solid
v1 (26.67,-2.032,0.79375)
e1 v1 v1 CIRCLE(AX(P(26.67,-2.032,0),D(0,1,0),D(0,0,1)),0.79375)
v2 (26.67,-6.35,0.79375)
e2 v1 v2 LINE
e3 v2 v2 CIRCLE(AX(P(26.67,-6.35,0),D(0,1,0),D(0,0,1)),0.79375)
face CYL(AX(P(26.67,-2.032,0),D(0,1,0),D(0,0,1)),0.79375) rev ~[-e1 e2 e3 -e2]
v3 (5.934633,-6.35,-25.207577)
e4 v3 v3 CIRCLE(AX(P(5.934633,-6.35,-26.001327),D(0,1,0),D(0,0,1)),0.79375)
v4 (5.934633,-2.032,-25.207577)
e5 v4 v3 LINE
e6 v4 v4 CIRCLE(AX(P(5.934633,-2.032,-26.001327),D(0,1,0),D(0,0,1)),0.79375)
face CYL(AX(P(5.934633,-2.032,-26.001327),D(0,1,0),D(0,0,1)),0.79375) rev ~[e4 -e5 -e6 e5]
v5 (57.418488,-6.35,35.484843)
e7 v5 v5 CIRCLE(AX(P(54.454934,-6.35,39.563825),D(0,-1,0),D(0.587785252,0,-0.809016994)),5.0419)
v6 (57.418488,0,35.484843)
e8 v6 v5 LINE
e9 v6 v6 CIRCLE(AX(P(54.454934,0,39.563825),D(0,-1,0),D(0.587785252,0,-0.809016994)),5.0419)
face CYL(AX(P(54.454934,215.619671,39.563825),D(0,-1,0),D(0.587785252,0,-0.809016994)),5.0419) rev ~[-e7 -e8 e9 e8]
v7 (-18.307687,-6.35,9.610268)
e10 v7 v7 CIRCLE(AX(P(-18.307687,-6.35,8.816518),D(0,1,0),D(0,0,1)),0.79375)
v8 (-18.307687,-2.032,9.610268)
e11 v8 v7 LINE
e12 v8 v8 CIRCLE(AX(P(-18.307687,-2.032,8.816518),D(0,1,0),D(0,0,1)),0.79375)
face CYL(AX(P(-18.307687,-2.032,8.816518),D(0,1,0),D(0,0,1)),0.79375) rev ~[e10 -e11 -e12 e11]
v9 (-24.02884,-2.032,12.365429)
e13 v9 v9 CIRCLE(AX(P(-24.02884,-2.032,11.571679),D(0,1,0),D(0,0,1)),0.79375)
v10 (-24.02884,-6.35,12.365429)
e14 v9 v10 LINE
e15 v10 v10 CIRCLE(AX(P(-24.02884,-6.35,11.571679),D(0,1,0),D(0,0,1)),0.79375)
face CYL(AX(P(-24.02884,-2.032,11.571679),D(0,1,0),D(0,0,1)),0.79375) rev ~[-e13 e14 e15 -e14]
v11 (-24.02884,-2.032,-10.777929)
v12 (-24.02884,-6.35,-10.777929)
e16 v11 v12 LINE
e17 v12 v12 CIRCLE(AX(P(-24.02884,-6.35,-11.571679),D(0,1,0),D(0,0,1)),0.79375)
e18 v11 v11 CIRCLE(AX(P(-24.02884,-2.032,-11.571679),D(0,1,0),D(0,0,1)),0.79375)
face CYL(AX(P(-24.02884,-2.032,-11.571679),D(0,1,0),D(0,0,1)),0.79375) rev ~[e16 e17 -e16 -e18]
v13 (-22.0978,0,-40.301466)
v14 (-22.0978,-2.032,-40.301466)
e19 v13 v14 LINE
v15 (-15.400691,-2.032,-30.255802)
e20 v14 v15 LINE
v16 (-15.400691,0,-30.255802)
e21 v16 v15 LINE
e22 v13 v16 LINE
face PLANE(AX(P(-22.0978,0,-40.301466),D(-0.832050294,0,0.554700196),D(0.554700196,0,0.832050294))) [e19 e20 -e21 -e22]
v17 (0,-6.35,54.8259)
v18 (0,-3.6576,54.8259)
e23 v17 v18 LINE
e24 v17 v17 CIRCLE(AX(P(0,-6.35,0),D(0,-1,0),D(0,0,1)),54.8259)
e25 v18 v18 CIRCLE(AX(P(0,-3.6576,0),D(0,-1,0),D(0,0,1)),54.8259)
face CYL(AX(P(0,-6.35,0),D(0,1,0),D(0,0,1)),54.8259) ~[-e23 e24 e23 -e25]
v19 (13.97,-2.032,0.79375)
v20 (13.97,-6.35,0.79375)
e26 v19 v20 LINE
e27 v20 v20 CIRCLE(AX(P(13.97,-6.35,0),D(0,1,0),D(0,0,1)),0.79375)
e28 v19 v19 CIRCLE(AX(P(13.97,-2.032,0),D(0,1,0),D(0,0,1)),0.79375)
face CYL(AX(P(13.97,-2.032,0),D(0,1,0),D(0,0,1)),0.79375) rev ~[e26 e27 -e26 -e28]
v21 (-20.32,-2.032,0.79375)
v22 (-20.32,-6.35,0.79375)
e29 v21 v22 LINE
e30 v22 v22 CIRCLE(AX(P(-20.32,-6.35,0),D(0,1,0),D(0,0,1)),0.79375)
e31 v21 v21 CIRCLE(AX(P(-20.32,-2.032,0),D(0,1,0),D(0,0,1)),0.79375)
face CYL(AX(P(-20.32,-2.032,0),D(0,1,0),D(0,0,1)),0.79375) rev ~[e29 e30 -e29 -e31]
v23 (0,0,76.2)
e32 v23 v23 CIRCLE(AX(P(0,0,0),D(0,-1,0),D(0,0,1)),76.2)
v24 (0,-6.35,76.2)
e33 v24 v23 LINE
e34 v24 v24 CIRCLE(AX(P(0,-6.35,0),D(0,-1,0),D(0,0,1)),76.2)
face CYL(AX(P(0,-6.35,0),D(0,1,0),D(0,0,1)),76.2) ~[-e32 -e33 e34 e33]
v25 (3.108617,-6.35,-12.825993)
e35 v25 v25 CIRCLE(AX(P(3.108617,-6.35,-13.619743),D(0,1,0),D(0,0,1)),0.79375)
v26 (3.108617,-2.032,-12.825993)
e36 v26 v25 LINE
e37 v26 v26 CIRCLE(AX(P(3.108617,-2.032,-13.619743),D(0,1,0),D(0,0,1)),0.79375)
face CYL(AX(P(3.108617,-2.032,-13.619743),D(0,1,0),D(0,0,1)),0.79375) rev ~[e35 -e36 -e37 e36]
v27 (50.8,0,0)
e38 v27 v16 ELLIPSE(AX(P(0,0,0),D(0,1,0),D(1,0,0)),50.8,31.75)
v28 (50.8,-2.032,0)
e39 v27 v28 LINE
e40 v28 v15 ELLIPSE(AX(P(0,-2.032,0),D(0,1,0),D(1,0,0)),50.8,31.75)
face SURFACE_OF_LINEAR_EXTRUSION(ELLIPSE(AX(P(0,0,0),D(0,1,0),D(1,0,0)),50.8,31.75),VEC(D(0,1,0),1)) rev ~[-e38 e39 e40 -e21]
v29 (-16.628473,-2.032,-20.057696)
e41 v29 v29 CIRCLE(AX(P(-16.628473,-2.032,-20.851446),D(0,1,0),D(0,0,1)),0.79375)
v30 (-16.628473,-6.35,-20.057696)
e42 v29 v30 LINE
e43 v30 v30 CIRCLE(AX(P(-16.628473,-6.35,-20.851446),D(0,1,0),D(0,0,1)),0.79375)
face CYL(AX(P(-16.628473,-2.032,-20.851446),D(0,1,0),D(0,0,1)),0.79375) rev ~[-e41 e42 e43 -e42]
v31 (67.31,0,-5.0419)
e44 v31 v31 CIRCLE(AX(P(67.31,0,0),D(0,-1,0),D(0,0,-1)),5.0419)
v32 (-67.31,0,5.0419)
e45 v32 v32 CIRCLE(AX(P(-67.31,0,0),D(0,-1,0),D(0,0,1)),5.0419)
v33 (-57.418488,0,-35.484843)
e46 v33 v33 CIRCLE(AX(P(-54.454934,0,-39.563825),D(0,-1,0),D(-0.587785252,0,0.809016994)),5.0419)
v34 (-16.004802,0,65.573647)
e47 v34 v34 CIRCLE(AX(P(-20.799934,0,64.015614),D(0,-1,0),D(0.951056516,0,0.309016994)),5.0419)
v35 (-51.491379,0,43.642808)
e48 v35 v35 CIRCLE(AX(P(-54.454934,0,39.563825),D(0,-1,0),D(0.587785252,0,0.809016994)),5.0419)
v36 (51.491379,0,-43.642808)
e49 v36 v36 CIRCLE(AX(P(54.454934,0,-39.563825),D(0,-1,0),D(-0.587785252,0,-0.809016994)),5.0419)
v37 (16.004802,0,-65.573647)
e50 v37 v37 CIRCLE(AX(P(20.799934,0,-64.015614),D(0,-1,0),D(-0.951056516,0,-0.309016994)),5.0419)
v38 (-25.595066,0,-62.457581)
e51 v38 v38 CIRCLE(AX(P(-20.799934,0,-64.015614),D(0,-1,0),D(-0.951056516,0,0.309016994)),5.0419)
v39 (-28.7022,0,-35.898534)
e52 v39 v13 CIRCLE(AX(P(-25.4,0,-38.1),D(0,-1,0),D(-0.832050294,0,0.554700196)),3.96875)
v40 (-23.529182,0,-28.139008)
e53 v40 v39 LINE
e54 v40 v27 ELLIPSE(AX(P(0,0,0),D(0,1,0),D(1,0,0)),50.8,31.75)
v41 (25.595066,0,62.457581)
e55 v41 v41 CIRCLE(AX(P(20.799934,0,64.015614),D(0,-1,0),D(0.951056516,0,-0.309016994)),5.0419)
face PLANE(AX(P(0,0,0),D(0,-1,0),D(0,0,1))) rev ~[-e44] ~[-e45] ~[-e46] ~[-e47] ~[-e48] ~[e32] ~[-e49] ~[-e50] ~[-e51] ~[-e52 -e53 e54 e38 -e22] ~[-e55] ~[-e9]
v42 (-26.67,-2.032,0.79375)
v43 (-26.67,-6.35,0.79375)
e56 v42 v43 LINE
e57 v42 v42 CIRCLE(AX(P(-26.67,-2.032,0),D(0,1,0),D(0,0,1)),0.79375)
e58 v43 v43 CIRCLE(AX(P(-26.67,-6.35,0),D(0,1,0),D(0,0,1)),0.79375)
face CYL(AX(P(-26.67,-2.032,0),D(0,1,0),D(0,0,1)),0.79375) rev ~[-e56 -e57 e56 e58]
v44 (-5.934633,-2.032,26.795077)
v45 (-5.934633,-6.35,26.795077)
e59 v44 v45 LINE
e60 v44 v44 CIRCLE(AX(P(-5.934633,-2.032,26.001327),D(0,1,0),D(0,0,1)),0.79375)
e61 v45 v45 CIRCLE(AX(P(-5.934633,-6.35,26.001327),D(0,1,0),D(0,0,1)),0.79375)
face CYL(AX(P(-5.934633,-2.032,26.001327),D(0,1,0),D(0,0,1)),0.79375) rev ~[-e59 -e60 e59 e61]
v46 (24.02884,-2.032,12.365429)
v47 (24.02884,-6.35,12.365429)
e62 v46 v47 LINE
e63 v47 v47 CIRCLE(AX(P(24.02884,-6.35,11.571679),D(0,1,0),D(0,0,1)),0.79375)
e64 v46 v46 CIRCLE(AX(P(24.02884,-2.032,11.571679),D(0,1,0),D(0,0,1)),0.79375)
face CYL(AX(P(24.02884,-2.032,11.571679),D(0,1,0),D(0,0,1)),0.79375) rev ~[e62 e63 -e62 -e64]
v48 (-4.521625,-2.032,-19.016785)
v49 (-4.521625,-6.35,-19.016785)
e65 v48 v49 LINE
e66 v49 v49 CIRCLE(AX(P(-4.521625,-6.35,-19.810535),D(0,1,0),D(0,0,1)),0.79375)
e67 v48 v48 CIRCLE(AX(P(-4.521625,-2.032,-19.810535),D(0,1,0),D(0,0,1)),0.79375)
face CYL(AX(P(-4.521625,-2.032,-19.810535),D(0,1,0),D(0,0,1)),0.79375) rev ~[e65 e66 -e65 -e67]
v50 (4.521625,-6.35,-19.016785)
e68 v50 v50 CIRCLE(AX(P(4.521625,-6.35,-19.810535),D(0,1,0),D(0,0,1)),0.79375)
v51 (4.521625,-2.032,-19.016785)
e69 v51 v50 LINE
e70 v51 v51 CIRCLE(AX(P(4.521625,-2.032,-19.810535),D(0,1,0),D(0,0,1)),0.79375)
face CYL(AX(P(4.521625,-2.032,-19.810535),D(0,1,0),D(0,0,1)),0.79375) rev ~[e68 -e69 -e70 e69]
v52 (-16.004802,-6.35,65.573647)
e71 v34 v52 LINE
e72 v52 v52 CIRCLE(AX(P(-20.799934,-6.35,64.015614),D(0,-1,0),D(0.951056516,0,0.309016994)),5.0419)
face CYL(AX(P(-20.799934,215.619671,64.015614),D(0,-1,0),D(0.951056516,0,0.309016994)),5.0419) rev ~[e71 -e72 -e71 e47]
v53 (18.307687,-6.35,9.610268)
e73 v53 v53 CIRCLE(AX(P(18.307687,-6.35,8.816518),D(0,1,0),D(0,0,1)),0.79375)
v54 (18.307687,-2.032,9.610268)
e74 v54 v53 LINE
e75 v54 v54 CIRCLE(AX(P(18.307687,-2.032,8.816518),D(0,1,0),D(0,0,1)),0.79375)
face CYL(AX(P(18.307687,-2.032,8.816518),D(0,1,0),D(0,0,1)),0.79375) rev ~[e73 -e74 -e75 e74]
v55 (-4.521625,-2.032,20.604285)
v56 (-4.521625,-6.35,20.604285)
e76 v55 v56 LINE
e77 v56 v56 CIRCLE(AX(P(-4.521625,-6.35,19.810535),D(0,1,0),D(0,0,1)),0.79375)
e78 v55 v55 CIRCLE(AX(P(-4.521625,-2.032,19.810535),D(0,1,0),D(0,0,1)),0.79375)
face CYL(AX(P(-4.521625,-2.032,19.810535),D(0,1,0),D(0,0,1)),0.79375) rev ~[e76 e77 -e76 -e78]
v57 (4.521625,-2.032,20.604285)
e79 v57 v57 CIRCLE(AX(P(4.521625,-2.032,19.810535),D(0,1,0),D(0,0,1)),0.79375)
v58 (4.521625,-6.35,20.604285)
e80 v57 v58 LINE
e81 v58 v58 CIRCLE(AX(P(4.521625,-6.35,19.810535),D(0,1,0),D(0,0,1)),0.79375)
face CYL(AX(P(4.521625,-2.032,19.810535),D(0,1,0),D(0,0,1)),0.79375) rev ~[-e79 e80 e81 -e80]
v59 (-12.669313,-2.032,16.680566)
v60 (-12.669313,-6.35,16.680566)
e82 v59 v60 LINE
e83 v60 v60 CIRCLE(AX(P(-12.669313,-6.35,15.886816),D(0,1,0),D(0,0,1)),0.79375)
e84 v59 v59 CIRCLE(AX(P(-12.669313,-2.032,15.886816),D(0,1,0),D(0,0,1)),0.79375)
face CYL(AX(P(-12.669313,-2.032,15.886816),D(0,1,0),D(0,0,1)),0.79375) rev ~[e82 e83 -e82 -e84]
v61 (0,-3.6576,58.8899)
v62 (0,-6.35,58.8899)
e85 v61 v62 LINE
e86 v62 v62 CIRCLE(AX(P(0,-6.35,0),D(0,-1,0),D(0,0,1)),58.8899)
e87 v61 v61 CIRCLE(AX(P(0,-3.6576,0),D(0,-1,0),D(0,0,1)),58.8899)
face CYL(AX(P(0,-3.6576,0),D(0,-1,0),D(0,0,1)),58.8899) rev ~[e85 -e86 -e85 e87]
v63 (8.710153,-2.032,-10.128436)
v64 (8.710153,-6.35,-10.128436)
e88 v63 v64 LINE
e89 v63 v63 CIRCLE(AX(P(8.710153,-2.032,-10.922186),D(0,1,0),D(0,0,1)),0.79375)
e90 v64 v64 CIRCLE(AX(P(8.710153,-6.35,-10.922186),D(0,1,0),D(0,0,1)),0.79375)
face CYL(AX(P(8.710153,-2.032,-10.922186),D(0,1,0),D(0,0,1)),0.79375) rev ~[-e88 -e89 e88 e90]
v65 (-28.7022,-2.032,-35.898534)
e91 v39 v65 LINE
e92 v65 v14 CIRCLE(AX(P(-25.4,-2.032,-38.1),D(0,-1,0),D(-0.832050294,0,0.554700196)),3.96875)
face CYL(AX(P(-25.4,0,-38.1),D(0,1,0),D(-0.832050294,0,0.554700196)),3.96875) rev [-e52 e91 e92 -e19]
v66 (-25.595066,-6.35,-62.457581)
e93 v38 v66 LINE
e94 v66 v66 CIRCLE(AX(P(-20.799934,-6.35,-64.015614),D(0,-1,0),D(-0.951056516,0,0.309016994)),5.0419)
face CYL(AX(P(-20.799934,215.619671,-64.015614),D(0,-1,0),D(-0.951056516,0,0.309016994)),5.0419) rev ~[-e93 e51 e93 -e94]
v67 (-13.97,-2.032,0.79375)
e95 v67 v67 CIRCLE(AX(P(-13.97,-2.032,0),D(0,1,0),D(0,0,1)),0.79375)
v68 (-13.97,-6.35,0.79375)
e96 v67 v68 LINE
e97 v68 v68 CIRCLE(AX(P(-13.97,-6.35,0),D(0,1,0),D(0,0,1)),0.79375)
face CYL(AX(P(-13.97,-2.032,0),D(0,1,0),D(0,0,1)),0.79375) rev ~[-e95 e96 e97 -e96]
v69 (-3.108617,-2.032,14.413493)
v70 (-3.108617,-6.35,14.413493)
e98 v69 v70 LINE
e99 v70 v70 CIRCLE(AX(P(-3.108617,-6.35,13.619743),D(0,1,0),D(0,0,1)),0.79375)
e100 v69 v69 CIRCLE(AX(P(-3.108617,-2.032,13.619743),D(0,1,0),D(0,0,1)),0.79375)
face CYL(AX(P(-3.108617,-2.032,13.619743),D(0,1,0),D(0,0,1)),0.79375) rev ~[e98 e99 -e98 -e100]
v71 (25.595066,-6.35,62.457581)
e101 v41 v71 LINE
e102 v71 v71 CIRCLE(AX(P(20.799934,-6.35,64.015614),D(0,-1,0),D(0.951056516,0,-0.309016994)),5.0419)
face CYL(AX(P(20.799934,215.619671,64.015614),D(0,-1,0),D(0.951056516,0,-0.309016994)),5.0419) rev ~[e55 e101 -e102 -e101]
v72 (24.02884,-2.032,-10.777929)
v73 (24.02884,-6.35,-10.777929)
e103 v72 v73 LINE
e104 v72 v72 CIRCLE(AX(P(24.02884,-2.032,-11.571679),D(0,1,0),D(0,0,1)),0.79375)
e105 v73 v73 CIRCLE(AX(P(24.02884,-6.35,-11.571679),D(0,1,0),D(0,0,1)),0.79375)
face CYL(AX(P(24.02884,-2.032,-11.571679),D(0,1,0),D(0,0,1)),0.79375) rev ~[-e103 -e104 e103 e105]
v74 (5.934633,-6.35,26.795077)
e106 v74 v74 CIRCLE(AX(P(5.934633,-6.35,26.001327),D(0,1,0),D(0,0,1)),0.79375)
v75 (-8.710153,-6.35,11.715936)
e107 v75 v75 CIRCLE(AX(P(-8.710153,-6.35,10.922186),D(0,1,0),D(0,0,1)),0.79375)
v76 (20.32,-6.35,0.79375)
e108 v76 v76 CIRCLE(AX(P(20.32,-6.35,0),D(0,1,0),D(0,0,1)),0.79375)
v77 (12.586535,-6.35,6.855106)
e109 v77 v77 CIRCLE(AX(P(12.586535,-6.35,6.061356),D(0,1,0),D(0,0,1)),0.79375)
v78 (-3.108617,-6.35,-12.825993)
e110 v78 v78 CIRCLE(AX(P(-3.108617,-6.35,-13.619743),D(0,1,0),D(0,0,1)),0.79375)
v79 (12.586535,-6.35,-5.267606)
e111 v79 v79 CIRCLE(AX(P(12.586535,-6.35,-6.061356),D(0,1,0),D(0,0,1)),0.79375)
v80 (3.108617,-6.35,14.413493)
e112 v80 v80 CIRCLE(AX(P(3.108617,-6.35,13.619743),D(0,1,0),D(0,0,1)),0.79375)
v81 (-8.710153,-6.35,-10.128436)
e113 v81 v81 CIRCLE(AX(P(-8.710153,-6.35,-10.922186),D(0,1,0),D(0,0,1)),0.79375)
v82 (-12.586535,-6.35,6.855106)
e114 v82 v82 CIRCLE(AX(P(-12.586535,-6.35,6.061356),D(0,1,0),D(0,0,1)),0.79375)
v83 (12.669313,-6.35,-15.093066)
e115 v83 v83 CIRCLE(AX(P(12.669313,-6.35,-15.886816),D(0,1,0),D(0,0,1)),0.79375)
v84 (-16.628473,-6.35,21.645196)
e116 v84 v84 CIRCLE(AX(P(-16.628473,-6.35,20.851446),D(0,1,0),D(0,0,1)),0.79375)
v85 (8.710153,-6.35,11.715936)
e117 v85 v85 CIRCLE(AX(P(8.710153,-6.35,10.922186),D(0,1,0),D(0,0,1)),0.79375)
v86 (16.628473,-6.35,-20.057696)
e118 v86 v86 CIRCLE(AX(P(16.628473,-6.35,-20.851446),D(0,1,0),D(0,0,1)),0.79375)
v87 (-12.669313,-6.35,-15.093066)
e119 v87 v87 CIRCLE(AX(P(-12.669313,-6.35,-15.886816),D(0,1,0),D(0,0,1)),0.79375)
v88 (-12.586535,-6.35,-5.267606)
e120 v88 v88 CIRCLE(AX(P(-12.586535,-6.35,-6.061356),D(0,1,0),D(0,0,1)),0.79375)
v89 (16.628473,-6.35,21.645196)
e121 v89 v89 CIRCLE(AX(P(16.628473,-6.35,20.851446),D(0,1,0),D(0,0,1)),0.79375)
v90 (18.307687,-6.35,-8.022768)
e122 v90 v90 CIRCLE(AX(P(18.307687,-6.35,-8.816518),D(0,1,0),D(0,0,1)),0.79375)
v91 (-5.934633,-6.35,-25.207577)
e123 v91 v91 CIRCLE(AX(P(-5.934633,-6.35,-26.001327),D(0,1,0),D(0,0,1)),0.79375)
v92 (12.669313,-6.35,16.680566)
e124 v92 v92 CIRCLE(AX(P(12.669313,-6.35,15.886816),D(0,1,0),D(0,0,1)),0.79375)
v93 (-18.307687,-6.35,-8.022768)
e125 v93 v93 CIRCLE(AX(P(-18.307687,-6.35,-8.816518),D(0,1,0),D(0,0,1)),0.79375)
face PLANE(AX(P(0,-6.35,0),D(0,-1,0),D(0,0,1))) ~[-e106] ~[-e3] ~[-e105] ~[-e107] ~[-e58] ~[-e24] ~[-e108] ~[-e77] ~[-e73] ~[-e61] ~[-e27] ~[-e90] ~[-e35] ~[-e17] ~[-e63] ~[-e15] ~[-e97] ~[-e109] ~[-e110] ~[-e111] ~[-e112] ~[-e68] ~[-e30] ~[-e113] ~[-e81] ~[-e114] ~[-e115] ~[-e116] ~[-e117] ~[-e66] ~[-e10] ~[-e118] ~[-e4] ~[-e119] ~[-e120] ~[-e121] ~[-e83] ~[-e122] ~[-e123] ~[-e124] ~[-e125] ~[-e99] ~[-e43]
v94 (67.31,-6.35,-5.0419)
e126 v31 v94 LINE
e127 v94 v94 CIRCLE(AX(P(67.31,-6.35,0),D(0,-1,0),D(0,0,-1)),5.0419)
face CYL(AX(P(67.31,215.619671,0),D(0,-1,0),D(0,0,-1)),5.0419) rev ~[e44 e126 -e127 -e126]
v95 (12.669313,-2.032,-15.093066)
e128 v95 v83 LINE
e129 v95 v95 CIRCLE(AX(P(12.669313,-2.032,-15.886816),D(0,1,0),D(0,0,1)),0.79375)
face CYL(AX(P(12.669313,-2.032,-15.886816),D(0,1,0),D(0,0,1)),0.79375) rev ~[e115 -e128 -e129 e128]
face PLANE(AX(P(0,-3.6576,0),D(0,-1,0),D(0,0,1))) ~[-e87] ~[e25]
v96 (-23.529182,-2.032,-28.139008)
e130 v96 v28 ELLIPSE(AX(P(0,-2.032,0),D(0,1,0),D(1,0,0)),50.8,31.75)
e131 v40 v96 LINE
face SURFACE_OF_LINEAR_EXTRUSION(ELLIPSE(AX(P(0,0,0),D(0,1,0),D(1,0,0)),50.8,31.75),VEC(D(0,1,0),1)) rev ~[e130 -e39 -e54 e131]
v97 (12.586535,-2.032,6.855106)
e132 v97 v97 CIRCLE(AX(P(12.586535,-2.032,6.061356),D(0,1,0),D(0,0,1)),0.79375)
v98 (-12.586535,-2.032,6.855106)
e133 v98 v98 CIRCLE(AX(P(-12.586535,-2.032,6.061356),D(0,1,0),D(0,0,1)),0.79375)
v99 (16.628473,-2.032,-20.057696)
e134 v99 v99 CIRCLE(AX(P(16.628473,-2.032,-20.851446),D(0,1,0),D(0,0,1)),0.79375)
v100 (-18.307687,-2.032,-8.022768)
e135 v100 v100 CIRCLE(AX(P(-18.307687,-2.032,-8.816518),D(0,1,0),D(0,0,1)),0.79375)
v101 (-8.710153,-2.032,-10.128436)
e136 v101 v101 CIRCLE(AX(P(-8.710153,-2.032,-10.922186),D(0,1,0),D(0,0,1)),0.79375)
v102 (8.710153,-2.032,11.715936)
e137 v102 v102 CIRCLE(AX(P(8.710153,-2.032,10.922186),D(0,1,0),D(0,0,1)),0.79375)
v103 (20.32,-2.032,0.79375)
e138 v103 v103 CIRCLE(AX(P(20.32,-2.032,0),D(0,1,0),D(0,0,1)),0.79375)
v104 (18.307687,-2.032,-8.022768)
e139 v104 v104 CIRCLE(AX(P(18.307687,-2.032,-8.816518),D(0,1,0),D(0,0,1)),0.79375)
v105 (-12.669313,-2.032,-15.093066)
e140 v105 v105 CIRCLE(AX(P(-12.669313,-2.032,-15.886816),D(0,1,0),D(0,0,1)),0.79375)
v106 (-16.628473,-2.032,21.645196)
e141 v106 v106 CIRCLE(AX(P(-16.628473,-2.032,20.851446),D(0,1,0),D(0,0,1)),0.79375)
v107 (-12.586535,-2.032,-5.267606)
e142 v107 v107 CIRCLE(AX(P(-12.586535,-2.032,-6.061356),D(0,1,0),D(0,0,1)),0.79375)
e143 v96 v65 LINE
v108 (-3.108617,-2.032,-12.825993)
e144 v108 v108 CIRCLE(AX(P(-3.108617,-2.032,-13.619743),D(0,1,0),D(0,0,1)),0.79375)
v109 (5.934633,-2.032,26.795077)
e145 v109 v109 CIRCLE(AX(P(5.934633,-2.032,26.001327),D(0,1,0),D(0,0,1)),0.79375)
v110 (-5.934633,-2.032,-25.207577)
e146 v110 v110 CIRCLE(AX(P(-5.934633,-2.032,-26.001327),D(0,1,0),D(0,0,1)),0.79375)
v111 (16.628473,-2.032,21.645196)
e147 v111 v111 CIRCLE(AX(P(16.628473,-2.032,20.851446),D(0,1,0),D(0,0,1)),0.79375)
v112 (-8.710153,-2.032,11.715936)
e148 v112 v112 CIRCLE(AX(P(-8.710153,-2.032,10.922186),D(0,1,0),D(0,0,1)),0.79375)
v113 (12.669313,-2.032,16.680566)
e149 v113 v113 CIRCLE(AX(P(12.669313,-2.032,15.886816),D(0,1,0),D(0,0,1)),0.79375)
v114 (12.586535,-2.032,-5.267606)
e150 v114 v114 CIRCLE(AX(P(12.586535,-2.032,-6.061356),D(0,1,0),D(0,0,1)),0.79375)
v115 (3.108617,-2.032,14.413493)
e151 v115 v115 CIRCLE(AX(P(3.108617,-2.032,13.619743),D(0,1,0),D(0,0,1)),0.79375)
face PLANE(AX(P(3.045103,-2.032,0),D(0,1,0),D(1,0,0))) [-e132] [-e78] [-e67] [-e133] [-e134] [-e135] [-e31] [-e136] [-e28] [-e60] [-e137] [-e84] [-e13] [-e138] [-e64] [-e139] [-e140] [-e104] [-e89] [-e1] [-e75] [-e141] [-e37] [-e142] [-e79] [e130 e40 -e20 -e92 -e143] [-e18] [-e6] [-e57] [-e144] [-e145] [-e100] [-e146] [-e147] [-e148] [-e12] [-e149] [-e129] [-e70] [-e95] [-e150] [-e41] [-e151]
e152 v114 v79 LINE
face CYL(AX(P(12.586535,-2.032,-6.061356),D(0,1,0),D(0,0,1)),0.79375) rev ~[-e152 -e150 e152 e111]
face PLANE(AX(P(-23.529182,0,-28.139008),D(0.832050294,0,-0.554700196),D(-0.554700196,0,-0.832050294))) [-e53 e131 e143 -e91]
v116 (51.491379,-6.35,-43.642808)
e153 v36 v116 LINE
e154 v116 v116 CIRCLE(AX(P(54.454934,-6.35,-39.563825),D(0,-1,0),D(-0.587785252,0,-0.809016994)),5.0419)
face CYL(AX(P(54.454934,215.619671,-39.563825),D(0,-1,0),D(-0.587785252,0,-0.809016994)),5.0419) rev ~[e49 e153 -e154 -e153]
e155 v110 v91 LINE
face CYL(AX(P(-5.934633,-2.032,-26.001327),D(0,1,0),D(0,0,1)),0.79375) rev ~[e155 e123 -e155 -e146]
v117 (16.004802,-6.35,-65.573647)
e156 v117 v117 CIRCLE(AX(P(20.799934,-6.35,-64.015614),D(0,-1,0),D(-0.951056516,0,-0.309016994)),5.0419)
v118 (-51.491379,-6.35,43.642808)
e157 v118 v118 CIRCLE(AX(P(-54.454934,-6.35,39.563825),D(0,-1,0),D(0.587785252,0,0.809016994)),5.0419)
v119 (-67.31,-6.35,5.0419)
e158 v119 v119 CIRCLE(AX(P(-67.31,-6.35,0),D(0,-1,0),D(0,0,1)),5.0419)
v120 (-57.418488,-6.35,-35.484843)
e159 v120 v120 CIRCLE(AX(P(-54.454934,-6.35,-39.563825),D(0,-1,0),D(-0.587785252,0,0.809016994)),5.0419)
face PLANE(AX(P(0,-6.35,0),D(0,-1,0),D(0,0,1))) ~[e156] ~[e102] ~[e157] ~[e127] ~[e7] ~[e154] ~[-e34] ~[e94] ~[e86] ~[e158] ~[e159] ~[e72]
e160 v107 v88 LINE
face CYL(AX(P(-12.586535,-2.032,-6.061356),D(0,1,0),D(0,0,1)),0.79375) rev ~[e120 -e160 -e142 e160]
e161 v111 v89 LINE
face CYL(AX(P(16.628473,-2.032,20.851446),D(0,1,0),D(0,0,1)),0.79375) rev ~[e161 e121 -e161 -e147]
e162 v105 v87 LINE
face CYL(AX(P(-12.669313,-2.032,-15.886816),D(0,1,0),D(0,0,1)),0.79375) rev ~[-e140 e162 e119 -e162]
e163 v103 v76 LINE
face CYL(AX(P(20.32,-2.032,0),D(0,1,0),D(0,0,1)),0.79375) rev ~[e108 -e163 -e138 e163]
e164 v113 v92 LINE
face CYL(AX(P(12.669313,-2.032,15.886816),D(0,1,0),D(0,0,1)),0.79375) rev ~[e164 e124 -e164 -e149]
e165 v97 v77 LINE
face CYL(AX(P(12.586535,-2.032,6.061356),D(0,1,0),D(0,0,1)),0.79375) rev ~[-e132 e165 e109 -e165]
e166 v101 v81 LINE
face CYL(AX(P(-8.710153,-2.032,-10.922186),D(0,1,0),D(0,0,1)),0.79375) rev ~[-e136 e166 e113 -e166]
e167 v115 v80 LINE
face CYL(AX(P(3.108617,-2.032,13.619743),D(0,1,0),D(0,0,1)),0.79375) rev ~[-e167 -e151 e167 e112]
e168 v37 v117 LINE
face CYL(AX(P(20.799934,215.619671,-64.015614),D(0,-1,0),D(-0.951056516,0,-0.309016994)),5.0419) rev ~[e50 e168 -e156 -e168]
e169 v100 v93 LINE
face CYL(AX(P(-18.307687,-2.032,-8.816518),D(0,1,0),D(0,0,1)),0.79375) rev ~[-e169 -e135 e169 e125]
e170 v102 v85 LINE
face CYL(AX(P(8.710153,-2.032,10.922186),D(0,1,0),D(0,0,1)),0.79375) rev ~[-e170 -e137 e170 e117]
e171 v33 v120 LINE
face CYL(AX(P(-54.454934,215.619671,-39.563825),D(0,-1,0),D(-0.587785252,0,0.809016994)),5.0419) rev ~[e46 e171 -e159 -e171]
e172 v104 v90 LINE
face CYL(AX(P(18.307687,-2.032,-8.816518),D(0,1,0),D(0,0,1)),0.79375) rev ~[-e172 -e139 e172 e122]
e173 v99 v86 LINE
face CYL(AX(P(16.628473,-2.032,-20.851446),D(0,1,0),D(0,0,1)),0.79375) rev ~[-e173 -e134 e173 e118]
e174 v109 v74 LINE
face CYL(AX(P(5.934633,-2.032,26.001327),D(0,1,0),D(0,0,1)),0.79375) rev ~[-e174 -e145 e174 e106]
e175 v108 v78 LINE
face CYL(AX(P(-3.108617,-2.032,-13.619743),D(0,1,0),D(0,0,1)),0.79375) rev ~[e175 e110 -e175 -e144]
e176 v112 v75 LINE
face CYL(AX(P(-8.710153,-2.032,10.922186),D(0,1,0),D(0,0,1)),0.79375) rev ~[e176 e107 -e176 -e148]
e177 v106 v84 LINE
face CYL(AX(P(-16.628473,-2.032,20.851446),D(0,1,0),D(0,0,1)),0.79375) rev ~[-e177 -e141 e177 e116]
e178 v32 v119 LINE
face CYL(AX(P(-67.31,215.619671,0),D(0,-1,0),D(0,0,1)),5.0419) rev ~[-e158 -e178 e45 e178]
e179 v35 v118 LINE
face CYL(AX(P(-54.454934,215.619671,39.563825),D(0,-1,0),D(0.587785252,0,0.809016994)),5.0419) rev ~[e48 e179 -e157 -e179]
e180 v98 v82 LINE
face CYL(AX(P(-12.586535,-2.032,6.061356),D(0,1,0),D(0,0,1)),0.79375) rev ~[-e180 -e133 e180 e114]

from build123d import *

# Parameters (mm, degrees)
F_3_8_CLEARANCE_HOLE1_D = 10.0838
CIRPATTERN1_COUNT       = 10
SKETCH5_RX              = 50.8
SKETCH5_RY              = 31.75
CUT_EXTRUDE1_DEPTH      = 2.032
SKETCH6_R               = 0.79375
CUT_EXTRUDE2_DEPTH      = 108.849548557


with BuildPart() as part:
    # Sketch1 → Revolve1 (revolve)
    with BuildSketch(Plane.XY):
        Polygon((0, -6.35), (54.8259, -6.35), (54.8259, -3.6576), (58.8899, -3.6576), (58.8899, -6.35), (76.2, -6.35), (76.2, 0), (0, 0), align=None)
    revolve(axis=Axis((0, 0, 0), (0, -1, 0)))

    # 3/8 Clearance Hole1 (through all)
    with Locations(Plane(origin=(67.31, 0, 0), x_dir=(0, 0, 1), z_dir=(0, 1, 0))):
        with Locations((0, 0)):
            f_3_8_clearance_hole1 = Hole(F_3_8_CLEARANCE_HOLE1_D / 2)

    # CirPattern1: 3/8 Clearance Hole1 ×10 about axis
    cirpattern1_axis = Axis((0, 0.3175, 0), (0, -1, 0))
    for i in range(1, CIRPATTERN1_COUNT):
        add(f_3_8_clearance_hole1.rotate(cirpattern1_axis, i * 360 / CIRPATTERN1_COUNT), mode=Mode.SUBTRACT)

    # Sketch5 → Cut-Extrude1 (cut)
    with BuildSketch(Plane(origin=(0, 0, 0), x_dir=(1, 0, 0), z_dir=(0, 1, 0))):
        with Locations((0, 0)):
            Ellipse(SKETCH5_RX, SKETCH5_RY)
        with BuildLine():
            Line((-3.302199606, -2.201466404), (-28.702199606, 35.898533596))
            ThreePointArc((-28.702199606, 35.898533596), (-27.601466404, 41.402199606), (-22.097800394, 40.301466404))
            Line((-22.097800394, 40.301466404), (3.302199606, 2.201466404))
            ThreePointArc((3.302199606, 2.201466404), (2.201466404, -3.302199606), (-3.302199606, -2.201466404))
        make_face()
    extrude(amount=-CUT_EXTRUDE1_DEPTH, mode=Mode.SUBTRACT)

    # Sketch6 → Cut-Extrude2 (cut, through all)
    with BuildSketch(Plane(origin=(0, -2.032, 0), x_dir=(1, 0, 0), z_dir=(0, 1, 0))):
        with Locations((13.97, 0)):
            Circle(SKETCH6_R)
        with Locations((20.32, 0)):
            Circle(SKETCH6_R)
        with Locations((26.67, 0)):
            Circle(SKETCH6_R)
        with Locations((12.586535085, -6.061355835)):
            Circle(SKETCH6_R)
        with Locations((18.307687396, -8.816517579)):
            Circle(SKETCH6_R)
        with Locations((24.028839707, -11.571679322)):
            Circle(SKETCH6_R)
        with Locations((8.710152532, -10.92218581)):
            Circle(SKETCH6_R)
        with Locations((12.669312774, -15.886815724)):
            Circle(SKETCH6_R)
        with Locations((16.628473016, -20.851445637)):
            Circle(SKETCH6_R)
        with Locations((3.108617447, -13.619742933)):
            Circle(SKETCH6_R)
        with Locations((4.521625378, -19.810535176)):
            Circle(SKETCH6_R)
        with Locations((5.934633309, -26.001327418)):
            Circle(SKETCH6_R)
        with Locations((-3.108617447, -13.619742933)):
            Circle(SKETCH6_R)
        with Locations((-4.521625378, -19.810535176)):
            Circle(SKETCH6_R)
        with Locations((-5.934633309, -26.001327418)):
            Circle(SKETCH6_R)
        with Locations((-8.710152532, -10.92218581)):
            Circle(SKETCH6_R)
        with Locations((-12.669312774, -15.886815724)):
            Circle(SKETCH6_R)
        with Locations((-16.628473016, -20.851445637)):
            Circle(SKETCH6_R)
        with Locations((-12.586535085, -6.061355835)):
            Circle(SKETCH6_R)
        with Locations((-18.307687396, -8.816517579)):
            Circle(SKETCH6_R)
        with Locations((-24.028839707, -11.571679322)):
            Circle(SKETCH6_R)
        with Locations((-13.97, 0)):
            Circle(SKETCH6_R)
        with Locations((-20.32, 0)):
            Circle(SKETCH6_R)
        with Locations((-26.67, 0)):
            Circle(SKETCH6_R)
        with Locations((-12.586535085, 6.061355835)):
            Circle(SKETCH6_R)
        with Locations((-18.307687396, 8.816517579)):
            Circle(SKETCH6_R)
        with Locations((-24.028839707, 11.571679322)):
            Circle(SKETCH6_R)
        with Locations((-8.710152532, 10.92218581)):
            Circle(SKETCH6_R)
        with Locations((-12.669312774, 15.886815724)):
            Circle(SKETCH6_R)
        with Locations((-16.628473016, 20.851445637)):
            Circle(SKETCH6_R)
        with Locations((-3.108617447, 13.619742933)):
            Circle(SKETCH6_R)
        with Locations((-4.521625378, 19.810535176)):
            Circle(SKETCH6_R)
        with Locations((-5.934633309, 26.001327418)):
            Circle(SKETCH6_R)
        with Locations((3.108617447, 13.619742933)):
            Circle(SKETCH6_R)
        with Locations((4.521625378, 19.810535176)):
            Circle(SKETCH6_R)
        with Locations((5.934633309, 26.001327418)):
            Circle(SKETCH6_R)
        with Locations((8.710152532, 10.92218581)):
            Circle(SKETCH6_R)
        with Locations((12.669312774, 15.886815724)):
            Circle(SKETCH6_R)
        with Locations((16.628473016, 20.851445637)):
            Circle(SKETCH6_R)
        with Locations((12.586535085, 6.061355835)):
            Circle(SKETCH6_R)
        with Locations((18.307687396, 8.816517579)):
            Circle(SKETCH6_R)
        with Locations((24.028839707, 11.571679322)):
            Circle(SKETCH6_R)
    extrude(amount=-CUT_EXTRUDE2_DEPTH, mode=Mode.SUBTRACT)


solid = part.part
